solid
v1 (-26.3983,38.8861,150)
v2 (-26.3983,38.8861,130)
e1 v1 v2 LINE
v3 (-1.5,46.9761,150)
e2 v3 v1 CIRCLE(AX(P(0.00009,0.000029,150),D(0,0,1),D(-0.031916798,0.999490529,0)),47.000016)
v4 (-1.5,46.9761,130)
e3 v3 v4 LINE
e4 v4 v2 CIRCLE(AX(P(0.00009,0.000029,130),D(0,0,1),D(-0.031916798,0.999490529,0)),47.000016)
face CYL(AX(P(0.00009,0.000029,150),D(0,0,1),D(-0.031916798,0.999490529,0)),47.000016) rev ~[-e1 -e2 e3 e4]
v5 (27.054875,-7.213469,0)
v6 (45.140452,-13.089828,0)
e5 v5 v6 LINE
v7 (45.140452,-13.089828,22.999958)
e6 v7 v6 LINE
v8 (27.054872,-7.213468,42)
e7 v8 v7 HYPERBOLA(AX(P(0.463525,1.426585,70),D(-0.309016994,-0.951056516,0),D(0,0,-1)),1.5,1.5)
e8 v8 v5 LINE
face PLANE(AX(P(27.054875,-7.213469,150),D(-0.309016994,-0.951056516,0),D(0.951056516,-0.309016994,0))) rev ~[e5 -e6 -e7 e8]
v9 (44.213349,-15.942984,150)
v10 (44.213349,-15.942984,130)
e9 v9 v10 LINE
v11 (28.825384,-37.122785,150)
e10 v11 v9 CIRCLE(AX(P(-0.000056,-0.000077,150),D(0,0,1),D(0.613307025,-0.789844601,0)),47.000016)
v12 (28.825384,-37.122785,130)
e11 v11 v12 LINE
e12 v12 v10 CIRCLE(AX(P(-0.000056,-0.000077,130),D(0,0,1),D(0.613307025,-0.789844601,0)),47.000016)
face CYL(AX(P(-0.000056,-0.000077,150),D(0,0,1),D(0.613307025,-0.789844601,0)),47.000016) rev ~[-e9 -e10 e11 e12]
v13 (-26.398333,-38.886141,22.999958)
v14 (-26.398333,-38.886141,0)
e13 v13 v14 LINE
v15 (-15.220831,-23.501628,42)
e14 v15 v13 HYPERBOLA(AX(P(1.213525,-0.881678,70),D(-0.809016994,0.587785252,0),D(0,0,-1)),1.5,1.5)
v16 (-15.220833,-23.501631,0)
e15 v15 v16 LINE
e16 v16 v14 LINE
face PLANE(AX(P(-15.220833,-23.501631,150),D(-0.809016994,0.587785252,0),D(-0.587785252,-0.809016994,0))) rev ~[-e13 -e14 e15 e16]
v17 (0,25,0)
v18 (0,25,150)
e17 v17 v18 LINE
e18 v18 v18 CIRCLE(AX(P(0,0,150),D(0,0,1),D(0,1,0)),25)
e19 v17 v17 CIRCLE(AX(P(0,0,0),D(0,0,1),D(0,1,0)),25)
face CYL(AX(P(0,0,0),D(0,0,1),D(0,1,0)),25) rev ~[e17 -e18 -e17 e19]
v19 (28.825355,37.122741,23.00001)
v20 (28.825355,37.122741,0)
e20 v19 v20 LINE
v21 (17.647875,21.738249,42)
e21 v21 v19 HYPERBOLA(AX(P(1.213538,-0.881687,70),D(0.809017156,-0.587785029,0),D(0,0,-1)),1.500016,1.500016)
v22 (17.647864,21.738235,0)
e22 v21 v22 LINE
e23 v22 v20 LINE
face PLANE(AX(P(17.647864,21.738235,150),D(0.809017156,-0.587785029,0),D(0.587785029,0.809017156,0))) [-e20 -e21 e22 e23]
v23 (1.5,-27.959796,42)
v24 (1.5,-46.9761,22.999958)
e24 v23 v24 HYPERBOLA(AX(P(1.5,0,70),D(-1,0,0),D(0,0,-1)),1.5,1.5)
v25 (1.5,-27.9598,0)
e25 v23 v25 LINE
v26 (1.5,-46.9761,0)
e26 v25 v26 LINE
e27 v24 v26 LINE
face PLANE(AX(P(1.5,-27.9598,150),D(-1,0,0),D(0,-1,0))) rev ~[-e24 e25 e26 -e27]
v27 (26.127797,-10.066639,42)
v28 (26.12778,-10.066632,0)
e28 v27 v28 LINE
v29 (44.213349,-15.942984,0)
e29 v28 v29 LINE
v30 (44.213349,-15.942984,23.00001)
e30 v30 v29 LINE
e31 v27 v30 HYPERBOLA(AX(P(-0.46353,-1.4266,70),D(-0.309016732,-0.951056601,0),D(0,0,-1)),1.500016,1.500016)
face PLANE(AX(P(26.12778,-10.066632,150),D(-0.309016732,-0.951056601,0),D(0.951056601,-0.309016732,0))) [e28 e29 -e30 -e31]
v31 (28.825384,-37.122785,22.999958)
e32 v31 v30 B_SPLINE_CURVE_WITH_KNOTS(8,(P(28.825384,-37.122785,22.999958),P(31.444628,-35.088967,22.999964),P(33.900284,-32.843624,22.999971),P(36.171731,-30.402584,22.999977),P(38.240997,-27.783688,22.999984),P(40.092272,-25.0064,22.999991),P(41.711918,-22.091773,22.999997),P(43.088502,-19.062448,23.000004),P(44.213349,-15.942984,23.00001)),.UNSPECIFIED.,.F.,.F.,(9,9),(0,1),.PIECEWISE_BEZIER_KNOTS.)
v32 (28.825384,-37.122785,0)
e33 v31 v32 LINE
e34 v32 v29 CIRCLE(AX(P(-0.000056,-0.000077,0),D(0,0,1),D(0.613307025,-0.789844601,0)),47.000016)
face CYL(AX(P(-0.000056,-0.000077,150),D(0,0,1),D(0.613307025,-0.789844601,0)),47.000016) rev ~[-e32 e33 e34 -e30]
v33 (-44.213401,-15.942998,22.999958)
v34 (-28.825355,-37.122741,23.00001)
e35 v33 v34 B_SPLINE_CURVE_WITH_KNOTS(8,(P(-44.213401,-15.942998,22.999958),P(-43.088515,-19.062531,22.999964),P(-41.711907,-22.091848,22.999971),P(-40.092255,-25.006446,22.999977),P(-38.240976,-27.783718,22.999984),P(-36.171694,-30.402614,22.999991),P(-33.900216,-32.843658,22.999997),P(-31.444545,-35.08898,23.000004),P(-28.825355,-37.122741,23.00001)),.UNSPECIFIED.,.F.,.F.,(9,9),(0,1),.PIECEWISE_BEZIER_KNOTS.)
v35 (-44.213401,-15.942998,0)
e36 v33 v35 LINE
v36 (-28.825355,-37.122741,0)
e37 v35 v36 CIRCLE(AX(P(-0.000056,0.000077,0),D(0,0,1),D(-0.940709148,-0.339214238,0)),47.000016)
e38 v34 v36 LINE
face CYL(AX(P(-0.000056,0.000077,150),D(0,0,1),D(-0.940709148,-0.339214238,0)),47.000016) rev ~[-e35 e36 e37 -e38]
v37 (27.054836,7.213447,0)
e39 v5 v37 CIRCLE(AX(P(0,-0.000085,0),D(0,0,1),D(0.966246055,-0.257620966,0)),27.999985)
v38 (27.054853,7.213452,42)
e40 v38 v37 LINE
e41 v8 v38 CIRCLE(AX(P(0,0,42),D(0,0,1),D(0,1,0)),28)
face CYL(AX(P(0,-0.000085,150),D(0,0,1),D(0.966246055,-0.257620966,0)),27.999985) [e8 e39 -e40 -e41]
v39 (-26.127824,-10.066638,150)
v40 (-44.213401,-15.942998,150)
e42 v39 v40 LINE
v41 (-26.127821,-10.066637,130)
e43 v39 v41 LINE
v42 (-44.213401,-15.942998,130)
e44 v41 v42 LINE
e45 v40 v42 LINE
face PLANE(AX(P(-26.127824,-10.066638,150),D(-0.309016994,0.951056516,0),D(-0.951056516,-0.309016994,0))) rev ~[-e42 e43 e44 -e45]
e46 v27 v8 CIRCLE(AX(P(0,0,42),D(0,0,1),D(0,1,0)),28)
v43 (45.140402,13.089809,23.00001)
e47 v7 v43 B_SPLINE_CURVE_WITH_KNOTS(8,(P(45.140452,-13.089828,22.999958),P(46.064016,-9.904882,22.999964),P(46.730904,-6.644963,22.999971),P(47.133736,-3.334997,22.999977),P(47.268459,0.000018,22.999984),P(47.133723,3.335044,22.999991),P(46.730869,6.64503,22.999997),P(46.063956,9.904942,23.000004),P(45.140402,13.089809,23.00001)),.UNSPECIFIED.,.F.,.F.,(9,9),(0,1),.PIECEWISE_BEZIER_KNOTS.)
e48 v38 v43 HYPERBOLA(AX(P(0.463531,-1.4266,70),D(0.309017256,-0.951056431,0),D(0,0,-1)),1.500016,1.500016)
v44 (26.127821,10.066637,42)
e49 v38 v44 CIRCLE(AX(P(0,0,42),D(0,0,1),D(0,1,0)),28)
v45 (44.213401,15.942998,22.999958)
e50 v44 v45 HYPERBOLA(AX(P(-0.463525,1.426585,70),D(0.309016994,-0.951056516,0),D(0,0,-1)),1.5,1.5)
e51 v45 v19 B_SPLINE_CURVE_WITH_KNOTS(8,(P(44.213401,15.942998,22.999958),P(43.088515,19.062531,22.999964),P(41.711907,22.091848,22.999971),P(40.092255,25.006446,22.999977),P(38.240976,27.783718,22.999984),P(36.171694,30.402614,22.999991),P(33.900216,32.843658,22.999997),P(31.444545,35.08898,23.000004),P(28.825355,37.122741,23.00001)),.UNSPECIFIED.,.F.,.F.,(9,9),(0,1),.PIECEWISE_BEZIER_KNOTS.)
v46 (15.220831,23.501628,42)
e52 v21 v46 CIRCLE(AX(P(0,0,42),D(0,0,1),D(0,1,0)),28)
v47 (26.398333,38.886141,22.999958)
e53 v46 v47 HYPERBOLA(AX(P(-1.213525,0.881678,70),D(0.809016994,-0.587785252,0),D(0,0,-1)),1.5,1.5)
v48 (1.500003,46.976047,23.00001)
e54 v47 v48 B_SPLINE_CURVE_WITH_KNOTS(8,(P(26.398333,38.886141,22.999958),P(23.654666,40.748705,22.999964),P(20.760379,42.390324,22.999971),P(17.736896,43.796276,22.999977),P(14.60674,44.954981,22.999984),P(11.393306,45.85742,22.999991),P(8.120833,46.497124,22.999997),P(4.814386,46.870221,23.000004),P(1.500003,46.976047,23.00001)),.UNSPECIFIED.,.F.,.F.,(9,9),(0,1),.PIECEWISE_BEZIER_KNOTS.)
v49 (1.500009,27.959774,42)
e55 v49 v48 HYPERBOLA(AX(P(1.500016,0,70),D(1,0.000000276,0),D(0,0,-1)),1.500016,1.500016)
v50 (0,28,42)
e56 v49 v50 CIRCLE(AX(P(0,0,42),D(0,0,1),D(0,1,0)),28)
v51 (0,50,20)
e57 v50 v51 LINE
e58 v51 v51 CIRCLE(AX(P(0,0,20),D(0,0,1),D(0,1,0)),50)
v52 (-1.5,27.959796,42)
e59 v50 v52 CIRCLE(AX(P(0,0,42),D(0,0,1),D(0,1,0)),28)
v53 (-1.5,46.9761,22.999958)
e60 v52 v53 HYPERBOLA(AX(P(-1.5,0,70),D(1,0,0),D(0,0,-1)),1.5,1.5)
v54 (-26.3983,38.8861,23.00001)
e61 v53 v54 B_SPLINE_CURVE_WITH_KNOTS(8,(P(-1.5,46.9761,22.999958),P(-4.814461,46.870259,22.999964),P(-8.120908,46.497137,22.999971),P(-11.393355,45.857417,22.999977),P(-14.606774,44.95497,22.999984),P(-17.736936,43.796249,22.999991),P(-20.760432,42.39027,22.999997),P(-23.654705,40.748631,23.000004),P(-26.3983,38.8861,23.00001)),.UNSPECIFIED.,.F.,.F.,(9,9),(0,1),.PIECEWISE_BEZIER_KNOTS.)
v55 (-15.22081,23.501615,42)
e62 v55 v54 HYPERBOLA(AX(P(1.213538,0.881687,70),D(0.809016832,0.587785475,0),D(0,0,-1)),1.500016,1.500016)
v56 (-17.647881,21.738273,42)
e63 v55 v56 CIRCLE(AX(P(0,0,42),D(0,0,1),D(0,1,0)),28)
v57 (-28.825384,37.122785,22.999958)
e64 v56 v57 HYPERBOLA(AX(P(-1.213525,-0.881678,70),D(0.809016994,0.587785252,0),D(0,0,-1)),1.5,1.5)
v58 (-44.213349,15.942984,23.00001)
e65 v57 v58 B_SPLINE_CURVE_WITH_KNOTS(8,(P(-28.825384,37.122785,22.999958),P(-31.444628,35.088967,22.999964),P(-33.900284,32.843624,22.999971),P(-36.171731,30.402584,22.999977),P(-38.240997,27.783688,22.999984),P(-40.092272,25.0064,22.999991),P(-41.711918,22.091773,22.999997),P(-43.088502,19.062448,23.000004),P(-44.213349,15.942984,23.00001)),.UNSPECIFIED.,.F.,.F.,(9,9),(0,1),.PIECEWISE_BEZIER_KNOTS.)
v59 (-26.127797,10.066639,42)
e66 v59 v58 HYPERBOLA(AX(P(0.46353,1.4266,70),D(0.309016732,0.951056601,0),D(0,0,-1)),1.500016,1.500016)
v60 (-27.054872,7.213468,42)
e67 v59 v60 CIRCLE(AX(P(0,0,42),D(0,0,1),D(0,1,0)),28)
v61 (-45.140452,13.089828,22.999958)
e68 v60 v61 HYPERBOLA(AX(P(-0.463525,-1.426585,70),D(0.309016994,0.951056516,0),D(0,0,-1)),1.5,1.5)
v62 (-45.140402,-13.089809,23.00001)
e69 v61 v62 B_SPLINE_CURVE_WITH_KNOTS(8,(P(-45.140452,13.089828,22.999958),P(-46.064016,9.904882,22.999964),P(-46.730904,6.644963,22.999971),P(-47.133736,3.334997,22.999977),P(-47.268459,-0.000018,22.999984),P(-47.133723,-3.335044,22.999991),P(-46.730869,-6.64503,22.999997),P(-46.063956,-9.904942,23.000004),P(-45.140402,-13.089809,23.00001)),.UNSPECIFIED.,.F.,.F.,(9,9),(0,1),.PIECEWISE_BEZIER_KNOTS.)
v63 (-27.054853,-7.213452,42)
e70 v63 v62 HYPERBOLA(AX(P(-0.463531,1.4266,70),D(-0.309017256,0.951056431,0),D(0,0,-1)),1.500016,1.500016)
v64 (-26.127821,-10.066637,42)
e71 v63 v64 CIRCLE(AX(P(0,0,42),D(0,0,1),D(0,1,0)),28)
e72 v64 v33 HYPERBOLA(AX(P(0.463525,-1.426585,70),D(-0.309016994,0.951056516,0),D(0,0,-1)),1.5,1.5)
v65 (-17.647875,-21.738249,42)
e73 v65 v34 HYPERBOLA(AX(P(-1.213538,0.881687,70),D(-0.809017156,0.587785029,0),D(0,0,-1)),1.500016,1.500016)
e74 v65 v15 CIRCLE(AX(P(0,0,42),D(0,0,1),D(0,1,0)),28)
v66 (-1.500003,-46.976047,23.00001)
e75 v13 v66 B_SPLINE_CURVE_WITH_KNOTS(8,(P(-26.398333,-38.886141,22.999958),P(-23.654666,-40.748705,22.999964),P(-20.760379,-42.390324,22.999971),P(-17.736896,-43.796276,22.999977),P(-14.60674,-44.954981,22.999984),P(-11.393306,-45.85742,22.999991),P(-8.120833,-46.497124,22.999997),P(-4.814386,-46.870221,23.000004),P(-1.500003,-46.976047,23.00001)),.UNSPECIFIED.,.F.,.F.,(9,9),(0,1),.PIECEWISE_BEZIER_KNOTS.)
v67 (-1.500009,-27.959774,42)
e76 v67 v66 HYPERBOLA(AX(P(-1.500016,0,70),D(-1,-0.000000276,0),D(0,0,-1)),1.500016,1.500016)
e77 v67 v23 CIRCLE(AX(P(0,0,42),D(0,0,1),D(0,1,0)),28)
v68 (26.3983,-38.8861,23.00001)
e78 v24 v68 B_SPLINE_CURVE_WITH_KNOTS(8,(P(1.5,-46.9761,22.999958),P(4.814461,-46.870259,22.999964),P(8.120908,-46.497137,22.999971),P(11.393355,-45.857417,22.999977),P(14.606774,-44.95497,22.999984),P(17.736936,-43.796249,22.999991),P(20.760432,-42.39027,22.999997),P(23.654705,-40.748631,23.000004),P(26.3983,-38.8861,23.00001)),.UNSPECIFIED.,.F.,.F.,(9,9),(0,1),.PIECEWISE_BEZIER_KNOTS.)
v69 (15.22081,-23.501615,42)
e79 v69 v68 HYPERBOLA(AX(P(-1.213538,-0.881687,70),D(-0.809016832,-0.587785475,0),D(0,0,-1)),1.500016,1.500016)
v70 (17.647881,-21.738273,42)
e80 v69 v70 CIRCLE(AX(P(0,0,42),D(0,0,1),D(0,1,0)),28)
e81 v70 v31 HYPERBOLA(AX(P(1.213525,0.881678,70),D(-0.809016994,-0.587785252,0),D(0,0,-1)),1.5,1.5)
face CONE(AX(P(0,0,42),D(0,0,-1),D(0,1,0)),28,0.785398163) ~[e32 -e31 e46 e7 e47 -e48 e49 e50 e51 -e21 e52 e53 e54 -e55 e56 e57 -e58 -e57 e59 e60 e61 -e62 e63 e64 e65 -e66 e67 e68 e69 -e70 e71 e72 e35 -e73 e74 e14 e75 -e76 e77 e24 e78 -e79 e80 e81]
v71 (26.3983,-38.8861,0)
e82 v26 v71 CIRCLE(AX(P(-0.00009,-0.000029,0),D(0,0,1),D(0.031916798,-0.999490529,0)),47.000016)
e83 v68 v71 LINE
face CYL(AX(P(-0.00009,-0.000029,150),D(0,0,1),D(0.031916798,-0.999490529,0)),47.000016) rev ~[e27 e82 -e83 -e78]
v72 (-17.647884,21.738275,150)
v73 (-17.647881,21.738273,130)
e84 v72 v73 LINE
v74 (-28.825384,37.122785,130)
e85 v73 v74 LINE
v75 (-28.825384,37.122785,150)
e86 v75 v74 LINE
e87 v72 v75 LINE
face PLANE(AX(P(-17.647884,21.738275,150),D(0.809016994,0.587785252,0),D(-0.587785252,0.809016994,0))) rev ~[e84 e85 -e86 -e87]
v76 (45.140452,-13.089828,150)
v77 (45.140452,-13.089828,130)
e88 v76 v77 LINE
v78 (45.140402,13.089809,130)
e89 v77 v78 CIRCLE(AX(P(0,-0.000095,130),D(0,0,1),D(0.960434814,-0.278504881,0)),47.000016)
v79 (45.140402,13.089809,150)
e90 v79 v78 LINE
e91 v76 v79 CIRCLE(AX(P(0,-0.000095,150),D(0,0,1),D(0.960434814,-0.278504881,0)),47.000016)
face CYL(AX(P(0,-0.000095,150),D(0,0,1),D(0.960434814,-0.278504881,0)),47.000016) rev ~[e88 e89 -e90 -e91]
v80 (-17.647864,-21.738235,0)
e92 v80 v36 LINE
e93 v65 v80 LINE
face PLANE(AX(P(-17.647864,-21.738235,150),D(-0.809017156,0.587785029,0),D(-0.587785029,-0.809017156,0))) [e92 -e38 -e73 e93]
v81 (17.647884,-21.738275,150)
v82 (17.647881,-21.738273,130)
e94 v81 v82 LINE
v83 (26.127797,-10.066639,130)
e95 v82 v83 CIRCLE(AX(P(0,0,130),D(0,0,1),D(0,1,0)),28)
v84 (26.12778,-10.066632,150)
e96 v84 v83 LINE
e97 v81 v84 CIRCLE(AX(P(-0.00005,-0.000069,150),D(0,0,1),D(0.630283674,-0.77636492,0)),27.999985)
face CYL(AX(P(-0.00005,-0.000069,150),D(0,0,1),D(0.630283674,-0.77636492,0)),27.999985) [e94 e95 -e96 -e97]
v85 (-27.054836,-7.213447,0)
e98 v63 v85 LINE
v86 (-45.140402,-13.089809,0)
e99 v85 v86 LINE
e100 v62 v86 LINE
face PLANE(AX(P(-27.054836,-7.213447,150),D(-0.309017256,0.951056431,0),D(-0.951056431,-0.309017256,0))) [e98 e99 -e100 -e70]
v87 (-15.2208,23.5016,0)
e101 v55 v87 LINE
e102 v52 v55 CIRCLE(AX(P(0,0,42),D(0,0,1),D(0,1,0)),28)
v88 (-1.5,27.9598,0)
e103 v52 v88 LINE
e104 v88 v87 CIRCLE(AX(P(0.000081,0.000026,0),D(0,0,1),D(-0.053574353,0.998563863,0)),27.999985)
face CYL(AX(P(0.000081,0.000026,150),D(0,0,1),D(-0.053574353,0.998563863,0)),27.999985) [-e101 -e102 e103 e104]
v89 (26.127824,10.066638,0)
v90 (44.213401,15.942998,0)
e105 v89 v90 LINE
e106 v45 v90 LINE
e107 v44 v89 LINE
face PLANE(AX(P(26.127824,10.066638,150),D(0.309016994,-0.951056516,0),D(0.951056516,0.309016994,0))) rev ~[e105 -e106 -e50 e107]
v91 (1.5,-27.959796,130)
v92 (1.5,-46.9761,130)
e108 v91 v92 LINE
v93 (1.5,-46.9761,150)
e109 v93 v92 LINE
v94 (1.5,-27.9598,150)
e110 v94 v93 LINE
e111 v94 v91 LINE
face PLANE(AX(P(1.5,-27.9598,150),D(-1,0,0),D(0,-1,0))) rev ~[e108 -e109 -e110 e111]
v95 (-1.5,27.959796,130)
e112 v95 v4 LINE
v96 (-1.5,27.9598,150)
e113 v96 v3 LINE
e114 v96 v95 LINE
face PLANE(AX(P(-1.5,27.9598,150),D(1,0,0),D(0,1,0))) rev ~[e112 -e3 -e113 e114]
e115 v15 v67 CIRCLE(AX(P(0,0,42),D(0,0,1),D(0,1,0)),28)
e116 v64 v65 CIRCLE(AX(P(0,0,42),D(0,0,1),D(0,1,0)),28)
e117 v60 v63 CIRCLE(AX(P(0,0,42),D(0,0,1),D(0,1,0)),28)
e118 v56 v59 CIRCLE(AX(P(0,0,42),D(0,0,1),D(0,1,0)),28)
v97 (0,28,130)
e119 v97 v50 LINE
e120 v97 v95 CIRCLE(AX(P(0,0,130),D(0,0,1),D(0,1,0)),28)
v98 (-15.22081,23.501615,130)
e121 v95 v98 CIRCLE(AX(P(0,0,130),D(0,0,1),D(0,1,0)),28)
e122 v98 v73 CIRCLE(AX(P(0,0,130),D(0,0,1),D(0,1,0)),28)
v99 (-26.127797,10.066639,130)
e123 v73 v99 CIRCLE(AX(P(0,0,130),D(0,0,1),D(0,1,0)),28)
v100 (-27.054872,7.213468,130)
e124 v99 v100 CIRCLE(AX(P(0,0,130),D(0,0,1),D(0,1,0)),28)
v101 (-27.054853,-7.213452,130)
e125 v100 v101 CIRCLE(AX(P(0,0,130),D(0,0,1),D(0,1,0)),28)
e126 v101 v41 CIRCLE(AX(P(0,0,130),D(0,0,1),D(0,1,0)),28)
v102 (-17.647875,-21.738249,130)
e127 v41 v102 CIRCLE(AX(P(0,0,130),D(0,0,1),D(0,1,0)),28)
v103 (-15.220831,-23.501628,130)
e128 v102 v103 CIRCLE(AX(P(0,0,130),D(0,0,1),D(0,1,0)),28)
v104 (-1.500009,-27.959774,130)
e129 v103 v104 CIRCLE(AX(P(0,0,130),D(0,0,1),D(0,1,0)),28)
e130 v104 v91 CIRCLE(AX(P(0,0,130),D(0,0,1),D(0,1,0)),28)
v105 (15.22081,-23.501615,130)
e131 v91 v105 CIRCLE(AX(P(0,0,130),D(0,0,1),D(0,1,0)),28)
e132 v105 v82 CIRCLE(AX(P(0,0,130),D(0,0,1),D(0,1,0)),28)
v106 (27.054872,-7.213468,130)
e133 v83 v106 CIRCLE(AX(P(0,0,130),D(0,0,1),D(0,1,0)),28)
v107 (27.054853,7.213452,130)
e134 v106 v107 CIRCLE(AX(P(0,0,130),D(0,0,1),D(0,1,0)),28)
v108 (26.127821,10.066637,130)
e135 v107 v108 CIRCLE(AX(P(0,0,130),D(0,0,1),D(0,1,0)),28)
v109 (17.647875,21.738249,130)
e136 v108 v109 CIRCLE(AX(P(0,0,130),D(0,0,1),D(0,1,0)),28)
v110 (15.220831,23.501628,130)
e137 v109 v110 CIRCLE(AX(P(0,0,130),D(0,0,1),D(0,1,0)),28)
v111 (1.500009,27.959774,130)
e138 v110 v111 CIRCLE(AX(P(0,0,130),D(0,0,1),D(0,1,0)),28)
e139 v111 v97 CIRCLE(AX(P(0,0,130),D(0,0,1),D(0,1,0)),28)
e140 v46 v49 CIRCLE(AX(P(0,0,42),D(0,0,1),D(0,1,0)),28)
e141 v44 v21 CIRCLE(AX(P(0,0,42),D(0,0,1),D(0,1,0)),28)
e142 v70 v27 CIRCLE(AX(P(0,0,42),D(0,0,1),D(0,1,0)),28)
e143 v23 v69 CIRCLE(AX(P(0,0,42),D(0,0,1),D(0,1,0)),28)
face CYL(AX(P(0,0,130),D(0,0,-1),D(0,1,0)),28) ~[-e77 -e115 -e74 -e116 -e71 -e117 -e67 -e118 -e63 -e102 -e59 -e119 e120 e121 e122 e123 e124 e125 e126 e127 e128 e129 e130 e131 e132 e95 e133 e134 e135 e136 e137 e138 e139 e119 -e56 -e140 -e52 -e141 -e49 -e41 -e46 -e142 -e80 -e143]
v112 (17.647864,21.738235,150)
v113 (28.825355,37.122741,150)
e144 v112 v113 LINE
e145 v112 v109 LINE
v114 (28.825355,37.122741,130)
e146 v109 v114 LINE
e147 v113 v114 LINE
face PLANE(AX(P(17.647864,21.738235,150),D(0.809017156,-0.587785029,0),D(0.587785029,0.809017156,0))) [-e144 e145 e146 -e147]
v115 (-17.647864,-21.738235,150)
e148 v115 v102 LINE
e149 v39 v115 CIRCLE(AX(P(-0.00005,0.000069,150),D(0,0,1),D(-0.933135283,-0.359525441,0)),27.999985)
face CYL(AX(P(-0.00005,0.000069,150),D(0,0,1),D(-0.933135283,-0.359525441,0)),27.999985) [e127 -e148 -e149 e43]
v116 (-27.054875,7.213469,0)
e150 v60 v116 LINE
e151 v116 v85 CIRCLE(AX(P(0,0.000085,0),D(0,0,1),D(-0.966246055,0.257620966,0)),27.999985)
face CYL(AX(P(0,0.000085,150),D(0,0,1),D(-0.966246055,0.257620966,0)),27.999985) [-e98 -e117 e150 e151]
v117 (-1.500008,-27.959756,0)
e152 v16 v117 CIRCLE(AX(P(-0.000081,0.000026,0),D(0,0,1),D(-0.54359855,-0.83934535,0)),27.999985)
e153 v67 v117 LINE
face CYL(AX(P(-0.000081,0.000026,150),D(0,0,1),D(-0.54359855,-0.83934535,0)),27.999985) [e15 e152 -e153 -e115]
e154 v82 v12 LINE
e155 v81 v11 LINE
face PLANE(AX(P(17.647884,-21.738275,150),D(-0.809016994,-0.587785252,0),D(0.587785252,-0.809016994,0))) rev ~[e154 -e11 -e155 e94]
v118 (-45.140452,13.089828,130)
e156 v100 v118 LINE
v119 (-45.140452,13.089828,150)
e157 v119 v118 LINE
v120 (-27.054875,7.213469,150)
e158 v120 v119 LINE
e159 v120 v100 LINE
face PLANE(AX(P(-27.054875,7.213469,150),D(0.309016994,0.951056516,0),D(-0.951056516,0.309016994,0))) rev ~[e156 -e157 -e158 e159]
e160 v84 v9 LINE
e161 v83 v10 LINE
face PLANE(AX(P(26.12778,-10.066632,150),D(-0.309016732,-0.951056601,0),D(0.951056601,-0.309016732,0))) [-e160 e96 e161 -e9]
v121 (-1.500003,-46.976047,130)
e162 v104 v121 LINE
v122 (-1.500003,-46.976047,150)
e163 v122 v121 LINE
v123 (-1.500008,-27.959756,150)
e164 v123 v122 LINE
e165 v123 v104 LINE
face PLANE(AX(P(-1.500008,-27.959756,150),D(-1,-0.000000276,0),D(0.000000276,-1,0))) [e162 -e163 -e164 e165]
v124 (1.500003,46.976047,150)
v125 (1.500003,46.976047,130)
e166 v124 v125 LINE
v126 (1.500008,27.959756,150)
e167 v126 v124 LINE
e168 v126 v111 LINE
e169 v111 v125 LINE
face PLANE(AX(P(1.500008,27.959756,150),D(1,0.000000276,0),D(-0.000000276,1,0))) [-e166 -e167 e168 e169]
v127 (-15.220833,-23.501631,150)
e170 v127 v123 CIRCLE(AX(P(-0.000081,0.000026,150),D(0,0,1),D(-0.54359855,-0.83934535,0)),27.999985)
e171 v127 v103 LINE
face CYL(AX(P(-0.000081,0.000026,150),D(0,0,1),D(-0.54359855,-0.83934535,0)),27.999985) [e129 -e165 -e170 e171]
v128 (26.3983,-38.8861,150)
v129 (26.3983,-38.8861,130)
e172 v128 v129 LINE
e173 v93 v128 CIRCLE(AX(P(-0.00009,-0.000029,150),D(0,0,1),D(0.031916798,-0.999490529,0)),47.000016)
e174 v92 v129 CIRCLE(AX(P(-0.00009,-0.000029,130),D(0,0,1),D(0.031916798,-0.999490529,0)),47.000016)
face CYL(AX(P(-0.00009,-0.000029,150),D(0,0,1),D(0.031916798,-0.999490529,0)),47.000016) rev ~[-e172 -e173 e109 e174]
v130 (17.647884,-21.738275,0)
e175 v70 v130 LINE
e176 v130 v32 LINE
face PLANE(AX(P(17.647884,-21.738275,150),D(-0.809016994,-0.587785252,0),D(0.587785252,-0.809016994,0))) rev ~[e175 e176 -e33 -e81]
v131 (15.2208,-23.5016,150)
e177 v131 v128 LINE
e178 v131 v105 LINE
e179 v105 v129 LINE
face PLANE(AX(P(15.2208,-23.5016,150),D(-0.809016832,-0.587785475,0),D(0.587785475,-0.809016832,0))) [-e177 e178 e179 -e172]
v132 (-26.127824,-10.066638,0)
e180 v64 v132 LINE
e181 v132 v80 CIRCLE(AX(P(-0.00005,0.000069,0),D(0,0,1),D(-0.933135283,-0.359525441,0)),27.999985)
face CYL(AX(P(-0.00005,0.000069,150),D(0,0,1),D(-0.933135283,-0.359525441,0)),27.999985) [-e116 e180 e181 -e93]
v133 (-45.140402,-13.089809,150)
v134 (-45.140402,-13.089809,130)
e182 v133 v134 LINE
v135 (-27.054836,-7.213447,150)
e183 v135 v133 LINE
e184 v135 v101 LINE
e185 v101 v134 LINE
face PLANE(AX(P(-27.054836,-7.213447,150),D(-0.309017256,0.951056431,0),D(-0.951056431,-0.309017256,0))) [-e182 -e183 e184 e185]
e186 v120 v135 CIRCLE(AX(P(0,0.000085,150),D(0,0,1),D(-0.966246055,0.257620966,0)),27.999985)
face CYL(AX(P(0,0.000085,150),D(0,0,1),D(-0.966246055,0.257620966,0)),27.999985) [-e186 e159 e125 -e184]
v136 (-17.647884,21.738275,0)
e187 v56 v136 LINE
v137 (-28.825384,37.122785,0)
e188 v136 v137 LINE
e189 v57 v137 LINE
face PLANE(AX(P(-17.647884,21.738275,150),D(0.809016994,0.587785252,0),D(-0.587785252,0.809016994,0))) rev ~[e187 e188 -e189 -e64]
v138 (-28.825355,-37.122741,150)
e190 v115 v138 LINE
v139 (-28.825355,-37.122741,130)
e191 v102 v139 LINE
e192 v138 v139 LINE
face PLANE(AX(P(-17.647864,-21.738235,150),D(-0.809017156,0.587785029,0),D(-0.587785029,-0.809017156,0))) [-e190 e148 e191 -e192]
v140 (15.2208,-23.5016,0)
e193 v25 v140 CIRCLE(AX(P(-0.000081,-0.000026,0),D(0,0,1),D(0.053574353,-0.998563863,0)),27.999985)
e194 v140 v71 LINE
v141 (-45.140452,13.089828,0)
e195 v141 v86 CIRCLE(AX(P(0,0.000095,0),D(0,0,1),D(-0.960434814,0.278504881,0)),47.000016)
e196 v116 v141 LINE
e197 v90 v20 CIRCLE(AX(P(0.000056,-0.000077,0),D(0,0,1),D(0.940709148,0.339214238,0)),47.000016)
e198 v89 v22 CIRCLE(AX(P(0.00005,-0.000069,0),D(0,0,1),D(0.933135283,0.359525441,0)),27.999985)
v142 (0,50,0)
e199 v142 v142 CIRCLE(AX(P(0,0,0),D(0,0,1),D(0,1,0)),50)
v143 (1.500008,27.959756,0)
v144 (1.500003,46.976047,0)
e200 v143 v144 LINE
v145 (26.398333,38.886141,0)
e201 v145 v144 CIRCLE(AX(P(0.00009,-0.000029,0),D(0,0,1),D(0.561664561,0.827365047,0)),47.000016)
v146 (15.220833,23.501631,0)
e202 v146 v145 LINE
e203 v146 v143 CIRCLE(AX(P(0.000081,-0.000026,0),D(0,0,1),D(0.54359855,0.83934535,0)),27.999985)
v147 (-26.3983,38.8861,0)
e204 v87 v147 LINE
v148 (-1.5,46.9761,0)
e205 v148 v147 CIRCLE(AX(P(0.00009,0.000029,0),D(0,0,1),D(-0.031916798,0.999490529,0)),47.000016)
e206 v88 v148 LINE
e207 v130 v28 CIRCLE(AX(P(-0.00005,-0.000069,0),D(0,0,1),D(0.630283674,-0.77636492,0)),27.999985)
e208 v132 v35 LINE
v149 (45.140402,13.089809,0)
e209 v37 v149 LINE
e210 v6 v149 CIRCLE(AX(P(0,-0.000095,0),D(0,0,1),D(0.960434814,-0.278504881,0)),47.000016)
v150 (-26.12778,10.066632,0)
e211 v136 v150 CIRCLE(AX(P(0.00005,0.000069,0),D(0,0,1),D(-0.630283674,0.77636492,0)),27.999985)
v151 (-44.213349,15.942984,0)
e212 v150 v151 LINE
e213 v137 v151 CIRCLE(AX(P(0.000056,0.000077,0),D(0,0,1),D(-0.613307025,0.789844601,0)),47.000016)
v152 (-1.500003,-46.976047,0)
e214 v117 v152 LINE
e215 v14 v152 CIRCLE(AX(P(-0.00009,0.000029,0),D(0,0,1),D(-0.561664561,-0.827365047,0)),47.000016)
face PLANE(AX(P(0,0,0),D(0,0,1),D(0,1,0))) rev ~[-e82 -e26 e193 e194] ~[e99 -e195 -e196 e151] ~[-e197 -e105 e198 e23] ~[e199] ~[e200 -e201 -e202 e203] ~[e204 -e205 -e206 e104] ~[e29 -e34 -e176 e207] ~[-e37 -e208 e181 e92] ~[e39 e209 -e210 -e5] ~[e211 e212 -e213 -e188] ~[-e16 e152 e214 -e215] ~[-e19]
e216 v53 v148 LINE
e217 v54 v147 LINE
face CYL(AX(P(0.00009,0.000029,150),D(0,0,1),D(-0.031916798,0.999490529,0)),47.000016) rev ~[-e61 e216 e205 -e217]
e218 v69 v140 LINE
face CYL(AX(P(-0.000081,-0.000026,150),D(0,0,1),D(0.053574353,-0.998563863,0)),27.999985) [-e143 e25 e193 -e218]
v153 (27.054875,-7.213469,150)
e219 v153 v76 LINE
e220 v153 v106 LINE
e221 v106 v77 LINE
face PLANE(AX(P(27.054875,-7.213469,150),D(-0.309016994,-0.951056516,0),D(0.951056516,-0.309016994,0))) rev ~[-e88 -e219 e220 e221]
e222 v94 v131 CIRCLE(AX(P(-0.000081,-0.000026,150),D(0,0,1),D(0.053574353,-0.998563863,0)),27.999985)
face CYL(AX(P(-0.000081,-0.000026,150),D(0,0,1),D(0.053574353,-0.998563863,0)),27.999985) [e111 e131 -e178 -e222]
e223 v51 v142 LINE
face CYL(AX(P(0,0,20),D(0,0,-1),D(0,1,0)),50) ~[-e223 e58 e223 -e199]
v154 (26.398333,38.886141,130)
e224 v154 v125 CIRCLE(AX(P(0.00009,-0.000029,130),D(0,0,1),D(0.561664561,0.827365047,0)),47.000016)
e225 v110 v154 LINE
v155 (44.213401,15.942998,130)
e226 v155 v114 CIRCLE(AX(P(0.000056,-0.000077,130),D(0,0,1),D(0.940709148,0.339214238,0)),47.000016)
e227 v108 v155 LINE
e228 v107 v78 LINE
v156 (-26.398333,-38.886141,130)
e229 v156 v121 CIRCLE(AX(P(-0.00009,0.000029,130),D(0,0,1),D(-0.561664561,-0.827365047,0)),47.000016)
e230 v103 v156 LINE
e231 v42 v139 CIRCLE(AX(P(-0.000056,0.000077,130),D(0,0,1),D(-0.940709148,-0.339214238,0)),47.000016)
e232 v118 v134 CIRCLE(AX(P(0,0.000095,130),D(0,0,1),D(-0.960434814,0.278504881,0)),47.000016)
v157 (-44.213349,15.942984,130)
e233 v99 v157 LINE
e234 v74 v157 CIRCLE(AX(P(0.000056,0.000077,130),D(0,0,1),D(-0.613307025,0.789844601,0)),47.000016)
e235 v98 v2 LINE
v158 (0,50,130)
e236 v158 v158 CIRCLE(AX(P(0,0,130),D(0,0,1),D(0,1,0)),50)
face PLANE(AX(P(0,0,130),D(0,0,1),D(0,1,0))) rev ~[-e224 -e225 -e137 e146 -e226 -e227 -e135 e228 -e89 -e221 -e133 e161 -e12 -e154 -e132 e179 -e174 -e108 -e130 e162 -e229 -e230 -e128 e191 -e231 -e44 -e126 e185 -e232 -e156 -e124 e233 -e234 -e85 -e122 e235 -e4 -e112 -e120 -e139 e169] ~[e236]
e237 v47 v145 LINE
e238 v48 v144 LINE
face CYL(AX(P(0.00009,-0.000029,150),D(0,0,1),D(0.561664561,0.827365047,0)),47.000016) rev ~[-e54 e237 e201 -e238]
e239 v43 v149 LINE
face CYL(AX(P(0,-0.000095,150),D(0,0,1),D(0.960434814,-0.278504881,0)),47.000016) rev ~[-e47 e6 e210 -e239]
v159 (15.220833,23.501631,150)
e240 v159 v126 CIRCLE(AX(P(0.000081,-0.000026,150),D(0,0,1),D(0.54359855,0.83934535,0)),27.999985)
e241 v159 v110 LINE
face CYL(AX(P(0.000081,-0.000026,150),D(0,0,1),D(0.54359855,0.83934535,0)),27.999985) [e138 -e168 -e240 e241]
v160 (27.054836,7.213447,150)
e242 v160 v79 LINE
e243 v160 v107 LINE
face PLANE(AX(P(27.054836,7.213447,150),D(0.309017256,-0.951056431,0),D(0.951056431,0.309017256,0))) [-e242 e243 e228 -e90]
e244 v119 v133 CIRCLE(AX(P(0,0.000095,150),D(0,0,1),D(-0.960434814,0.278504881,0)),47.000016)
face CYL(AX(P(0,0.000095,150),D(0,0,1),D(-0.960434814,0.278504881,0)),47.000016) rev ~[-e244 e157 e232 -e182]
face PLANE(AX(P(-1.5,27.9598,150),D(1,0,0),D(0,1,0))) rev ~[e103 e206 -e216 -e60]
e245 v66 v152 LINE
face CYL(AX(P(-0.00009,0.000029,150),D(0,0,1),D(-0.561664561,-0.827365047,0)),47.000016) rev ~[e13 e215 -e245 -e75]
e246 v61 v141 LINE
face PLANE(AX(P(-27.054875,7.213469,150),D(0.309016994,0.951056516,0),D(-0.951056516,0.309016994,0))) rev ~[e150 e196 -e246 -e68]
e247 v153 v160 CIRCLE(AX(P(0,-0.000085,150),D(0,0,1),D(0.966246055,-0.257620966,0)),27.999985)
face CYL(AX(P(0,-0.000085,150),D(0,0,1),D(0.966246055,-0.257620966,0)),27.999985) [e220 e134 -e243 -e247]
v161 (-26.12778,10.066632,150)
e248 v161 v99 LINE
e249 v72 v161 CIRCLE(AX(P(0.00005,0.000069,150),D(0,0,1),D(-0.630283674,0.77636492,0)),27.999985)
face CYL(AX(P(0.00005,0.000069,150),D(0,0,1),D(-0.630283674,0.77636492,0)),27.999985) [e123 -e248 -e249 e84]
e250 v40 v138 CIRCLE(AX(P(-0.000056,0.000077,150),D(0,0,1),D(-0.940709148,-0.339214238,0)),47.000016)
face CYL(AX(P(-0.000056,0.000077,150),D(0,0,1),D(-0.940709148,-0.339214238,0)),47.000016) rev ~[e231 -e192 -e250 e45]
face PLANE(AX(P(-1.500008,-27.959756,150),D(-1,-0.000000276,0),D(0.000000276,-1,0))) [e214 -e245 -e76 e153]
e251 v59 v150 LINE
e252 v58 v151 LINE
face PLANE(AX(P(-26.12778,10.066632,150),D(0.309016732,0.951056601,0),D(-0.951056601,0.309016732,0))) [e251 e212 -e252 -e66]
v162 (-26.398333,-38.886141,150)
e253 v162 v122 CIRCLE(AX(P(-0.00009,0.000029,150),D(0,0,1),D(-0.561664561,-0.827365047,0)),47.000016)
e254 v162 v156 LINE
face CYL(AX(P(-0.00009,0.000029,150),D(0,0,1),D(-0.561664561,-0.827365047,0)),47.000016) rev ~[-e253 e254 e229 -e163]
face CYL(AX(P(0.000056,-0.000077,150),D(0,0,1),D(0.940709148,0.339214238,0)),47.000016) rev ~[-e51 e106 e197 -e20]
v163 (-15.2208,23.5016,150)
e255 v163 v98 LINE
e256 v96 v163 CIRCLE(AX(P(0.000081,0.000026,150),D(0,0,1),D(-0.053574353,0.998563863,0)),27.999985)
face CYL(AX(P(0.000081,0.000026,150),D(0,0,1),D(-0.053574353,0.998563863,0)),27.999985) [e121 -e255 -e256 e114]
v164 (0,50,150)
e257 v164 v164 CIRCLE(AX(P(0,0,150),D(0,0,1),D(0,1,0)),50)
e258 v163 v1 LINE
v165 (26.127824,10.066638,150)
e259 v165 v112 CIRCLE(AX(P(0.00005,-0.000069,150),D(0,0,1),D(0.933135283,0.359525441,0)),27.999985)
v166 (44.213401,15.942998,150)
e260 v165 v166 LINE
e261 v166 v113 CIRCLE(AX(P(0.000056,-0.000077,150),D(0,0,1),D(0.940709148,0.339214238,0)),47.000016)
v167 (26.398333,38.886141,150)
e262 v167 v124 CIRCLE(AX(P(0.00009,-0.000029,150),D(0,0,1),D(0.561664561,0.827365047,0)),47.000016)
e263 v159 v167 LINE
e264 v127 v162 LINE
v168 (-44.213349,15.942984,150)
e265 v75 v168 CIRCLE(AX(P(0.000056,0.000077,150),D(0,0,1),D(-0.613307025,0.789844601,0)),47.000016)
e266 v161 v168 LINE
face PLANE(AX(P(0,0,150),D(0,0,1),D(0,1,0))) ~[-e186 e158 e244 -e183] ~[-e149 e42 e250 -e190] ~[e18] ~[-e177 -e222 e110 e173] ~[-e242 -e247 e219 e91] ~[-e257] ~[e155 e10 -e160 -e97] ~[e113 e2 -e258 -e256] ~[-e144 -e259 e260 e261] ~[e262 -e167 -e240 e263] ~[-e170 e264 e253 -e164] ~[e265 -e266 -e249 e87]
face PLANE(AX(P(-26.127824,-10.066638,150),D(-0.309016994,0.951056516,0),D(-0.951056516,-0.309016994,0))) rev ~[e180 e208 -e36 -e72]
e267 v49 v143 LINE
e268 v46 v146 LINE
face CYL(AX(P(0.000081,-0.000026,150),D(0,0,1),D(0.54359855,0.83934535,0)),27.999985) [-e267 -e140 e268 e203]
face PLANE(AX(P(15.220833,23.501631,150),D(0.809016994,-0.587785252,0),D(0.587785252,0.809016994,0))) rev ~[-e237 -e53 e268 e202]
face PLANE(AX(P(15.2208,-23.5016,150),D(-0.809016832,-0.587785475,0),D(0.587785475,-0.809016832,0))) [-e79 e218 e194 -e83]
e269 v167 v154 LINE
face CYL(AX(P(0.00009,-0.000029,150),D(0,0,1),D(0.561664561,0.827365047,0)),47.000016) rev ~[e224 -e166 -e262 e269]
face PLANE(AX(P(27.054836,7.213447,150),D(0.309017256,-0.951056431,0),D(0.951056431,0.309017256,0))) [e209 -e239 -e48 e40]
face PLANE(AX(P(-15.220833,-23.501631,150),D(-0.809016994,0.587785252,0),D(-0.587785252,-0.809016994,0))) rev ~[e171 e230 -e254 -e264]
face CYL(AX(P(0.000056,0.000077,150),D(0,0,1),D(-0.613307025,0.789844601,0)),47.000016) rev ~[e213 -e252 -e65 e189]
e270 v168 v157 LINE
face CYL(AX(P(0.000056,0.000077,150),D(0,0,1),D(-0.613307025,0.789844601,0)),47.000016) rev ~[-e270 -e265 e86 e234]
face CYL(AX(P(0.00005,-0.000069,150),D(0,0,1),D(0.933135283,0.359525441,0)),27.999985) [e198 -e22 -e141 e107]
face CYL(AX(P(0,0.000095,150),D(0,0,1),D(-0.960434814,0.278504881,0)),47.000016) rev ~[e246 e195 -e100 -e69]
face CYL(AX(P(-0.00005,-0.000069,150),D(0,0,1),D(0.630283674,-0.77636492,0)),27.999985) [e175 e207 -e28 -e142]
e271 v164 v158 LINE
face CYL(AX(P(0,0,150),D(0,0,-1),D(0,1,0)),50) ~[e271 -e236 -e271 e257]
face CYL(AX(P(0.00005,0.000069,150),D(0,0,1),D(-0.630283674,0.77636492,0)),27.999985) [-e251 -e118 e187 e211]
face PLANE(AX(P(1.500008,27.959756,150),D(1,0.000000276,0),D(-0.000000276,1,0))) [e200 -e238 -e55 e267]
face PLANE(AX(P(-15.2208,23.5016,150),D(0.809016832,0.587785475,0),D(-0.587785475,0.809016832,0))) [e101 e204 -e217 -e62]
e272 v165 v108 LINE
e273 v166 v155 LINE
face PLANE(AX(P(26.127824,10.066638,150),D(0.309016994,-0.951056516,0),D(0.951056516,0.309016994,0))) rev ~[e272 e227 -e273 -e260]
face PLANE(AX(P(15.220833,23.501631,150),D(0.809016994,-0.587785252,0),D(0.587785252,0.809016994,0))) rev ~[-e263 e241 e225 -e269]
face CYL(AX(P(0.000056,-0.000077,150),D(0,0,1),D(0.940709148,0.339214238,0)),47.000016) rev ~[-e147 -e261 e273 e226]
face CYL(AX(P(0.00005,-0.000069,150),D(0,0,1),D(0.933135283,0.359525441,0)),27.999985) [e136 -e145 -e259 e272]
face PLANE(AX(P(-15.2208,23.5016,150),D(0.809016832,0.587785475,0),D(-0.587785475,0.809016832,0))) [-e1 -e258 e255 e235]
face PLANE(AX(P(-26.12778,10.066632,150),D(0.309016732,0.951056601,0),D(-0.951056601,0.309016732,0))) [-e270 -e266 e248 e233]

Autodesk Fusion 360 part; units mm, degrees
sketch "Sketch1" plane through (0, 0, 0) normal (1, 0, 0) x (0, 1, 0)
  line L0 (25, 0) -> (25, 150)
  line L1 (25, 150) -> (50, 150)
  line L2 (50, 150) -> (50, 130)
  line L3 (50, 130) -> (28, 130)
  line L4 (28, 130) -> (28, 42)
  line L5 (28, 42) -> (50, 20)
  line L6 (50, 20) -> (50, 0)
  line L7 (50, 0) -> (25, 0)
  line L8 (0, 0) -> (0, 146.3043) construction
  dimension "d1" = 3
  dimension "d2" = 25
  dimension "d3" = 150
  dimension "d4" = 50
  dimension "d5" = 20
  dimension "d6" = 20
  dimension "d7" = 135
revolve "Revolve1" add sketch "Sketch1" angle 360 about axis through (0, 0, 0) along (0, 0, 1)
sketch "Sketch2" plane through (0, 0, 150) normal (0, 0, 1) x (-1, 0, 0)
  circle A0 centre (0, 0) radius 25
  circle A1 centre (0, 0) radius 50
  line L0 (0, 0) -> (-29.3893, 40.4508) construction
  line L1 (0, 0) -> (0, 50) construction
  arc A2 (-1.5, 27.9598) -> (-15.2208, 23.5016) centre (0, 0) ccw
  arc A3 (-1.5, 46.9761) -> (-26.3983, 38.8861) centre (0, 0) ccw
  line L2 (-1.5, 27.9598) -> (-1.5, 46.9761)
  line L3 (-15.2208, 23.5016) -> (-26.3983, 38.8861)
  dimension "d9" = 36
  dimension "d10" = 1.5
  dimension "d11" = 1.5
  dimension "d12" = 3
  dimension "d13" = 3
extrude "Extrude1" cut sketch "Sketch2" against normal up to surface (150 mm away) contours A2 A3 L2 L3
pattern_circular "C-Pattern1" count 10 over 360 about axis through (0, 0, 150) along (0, 0, -1) of "Extrude1"
